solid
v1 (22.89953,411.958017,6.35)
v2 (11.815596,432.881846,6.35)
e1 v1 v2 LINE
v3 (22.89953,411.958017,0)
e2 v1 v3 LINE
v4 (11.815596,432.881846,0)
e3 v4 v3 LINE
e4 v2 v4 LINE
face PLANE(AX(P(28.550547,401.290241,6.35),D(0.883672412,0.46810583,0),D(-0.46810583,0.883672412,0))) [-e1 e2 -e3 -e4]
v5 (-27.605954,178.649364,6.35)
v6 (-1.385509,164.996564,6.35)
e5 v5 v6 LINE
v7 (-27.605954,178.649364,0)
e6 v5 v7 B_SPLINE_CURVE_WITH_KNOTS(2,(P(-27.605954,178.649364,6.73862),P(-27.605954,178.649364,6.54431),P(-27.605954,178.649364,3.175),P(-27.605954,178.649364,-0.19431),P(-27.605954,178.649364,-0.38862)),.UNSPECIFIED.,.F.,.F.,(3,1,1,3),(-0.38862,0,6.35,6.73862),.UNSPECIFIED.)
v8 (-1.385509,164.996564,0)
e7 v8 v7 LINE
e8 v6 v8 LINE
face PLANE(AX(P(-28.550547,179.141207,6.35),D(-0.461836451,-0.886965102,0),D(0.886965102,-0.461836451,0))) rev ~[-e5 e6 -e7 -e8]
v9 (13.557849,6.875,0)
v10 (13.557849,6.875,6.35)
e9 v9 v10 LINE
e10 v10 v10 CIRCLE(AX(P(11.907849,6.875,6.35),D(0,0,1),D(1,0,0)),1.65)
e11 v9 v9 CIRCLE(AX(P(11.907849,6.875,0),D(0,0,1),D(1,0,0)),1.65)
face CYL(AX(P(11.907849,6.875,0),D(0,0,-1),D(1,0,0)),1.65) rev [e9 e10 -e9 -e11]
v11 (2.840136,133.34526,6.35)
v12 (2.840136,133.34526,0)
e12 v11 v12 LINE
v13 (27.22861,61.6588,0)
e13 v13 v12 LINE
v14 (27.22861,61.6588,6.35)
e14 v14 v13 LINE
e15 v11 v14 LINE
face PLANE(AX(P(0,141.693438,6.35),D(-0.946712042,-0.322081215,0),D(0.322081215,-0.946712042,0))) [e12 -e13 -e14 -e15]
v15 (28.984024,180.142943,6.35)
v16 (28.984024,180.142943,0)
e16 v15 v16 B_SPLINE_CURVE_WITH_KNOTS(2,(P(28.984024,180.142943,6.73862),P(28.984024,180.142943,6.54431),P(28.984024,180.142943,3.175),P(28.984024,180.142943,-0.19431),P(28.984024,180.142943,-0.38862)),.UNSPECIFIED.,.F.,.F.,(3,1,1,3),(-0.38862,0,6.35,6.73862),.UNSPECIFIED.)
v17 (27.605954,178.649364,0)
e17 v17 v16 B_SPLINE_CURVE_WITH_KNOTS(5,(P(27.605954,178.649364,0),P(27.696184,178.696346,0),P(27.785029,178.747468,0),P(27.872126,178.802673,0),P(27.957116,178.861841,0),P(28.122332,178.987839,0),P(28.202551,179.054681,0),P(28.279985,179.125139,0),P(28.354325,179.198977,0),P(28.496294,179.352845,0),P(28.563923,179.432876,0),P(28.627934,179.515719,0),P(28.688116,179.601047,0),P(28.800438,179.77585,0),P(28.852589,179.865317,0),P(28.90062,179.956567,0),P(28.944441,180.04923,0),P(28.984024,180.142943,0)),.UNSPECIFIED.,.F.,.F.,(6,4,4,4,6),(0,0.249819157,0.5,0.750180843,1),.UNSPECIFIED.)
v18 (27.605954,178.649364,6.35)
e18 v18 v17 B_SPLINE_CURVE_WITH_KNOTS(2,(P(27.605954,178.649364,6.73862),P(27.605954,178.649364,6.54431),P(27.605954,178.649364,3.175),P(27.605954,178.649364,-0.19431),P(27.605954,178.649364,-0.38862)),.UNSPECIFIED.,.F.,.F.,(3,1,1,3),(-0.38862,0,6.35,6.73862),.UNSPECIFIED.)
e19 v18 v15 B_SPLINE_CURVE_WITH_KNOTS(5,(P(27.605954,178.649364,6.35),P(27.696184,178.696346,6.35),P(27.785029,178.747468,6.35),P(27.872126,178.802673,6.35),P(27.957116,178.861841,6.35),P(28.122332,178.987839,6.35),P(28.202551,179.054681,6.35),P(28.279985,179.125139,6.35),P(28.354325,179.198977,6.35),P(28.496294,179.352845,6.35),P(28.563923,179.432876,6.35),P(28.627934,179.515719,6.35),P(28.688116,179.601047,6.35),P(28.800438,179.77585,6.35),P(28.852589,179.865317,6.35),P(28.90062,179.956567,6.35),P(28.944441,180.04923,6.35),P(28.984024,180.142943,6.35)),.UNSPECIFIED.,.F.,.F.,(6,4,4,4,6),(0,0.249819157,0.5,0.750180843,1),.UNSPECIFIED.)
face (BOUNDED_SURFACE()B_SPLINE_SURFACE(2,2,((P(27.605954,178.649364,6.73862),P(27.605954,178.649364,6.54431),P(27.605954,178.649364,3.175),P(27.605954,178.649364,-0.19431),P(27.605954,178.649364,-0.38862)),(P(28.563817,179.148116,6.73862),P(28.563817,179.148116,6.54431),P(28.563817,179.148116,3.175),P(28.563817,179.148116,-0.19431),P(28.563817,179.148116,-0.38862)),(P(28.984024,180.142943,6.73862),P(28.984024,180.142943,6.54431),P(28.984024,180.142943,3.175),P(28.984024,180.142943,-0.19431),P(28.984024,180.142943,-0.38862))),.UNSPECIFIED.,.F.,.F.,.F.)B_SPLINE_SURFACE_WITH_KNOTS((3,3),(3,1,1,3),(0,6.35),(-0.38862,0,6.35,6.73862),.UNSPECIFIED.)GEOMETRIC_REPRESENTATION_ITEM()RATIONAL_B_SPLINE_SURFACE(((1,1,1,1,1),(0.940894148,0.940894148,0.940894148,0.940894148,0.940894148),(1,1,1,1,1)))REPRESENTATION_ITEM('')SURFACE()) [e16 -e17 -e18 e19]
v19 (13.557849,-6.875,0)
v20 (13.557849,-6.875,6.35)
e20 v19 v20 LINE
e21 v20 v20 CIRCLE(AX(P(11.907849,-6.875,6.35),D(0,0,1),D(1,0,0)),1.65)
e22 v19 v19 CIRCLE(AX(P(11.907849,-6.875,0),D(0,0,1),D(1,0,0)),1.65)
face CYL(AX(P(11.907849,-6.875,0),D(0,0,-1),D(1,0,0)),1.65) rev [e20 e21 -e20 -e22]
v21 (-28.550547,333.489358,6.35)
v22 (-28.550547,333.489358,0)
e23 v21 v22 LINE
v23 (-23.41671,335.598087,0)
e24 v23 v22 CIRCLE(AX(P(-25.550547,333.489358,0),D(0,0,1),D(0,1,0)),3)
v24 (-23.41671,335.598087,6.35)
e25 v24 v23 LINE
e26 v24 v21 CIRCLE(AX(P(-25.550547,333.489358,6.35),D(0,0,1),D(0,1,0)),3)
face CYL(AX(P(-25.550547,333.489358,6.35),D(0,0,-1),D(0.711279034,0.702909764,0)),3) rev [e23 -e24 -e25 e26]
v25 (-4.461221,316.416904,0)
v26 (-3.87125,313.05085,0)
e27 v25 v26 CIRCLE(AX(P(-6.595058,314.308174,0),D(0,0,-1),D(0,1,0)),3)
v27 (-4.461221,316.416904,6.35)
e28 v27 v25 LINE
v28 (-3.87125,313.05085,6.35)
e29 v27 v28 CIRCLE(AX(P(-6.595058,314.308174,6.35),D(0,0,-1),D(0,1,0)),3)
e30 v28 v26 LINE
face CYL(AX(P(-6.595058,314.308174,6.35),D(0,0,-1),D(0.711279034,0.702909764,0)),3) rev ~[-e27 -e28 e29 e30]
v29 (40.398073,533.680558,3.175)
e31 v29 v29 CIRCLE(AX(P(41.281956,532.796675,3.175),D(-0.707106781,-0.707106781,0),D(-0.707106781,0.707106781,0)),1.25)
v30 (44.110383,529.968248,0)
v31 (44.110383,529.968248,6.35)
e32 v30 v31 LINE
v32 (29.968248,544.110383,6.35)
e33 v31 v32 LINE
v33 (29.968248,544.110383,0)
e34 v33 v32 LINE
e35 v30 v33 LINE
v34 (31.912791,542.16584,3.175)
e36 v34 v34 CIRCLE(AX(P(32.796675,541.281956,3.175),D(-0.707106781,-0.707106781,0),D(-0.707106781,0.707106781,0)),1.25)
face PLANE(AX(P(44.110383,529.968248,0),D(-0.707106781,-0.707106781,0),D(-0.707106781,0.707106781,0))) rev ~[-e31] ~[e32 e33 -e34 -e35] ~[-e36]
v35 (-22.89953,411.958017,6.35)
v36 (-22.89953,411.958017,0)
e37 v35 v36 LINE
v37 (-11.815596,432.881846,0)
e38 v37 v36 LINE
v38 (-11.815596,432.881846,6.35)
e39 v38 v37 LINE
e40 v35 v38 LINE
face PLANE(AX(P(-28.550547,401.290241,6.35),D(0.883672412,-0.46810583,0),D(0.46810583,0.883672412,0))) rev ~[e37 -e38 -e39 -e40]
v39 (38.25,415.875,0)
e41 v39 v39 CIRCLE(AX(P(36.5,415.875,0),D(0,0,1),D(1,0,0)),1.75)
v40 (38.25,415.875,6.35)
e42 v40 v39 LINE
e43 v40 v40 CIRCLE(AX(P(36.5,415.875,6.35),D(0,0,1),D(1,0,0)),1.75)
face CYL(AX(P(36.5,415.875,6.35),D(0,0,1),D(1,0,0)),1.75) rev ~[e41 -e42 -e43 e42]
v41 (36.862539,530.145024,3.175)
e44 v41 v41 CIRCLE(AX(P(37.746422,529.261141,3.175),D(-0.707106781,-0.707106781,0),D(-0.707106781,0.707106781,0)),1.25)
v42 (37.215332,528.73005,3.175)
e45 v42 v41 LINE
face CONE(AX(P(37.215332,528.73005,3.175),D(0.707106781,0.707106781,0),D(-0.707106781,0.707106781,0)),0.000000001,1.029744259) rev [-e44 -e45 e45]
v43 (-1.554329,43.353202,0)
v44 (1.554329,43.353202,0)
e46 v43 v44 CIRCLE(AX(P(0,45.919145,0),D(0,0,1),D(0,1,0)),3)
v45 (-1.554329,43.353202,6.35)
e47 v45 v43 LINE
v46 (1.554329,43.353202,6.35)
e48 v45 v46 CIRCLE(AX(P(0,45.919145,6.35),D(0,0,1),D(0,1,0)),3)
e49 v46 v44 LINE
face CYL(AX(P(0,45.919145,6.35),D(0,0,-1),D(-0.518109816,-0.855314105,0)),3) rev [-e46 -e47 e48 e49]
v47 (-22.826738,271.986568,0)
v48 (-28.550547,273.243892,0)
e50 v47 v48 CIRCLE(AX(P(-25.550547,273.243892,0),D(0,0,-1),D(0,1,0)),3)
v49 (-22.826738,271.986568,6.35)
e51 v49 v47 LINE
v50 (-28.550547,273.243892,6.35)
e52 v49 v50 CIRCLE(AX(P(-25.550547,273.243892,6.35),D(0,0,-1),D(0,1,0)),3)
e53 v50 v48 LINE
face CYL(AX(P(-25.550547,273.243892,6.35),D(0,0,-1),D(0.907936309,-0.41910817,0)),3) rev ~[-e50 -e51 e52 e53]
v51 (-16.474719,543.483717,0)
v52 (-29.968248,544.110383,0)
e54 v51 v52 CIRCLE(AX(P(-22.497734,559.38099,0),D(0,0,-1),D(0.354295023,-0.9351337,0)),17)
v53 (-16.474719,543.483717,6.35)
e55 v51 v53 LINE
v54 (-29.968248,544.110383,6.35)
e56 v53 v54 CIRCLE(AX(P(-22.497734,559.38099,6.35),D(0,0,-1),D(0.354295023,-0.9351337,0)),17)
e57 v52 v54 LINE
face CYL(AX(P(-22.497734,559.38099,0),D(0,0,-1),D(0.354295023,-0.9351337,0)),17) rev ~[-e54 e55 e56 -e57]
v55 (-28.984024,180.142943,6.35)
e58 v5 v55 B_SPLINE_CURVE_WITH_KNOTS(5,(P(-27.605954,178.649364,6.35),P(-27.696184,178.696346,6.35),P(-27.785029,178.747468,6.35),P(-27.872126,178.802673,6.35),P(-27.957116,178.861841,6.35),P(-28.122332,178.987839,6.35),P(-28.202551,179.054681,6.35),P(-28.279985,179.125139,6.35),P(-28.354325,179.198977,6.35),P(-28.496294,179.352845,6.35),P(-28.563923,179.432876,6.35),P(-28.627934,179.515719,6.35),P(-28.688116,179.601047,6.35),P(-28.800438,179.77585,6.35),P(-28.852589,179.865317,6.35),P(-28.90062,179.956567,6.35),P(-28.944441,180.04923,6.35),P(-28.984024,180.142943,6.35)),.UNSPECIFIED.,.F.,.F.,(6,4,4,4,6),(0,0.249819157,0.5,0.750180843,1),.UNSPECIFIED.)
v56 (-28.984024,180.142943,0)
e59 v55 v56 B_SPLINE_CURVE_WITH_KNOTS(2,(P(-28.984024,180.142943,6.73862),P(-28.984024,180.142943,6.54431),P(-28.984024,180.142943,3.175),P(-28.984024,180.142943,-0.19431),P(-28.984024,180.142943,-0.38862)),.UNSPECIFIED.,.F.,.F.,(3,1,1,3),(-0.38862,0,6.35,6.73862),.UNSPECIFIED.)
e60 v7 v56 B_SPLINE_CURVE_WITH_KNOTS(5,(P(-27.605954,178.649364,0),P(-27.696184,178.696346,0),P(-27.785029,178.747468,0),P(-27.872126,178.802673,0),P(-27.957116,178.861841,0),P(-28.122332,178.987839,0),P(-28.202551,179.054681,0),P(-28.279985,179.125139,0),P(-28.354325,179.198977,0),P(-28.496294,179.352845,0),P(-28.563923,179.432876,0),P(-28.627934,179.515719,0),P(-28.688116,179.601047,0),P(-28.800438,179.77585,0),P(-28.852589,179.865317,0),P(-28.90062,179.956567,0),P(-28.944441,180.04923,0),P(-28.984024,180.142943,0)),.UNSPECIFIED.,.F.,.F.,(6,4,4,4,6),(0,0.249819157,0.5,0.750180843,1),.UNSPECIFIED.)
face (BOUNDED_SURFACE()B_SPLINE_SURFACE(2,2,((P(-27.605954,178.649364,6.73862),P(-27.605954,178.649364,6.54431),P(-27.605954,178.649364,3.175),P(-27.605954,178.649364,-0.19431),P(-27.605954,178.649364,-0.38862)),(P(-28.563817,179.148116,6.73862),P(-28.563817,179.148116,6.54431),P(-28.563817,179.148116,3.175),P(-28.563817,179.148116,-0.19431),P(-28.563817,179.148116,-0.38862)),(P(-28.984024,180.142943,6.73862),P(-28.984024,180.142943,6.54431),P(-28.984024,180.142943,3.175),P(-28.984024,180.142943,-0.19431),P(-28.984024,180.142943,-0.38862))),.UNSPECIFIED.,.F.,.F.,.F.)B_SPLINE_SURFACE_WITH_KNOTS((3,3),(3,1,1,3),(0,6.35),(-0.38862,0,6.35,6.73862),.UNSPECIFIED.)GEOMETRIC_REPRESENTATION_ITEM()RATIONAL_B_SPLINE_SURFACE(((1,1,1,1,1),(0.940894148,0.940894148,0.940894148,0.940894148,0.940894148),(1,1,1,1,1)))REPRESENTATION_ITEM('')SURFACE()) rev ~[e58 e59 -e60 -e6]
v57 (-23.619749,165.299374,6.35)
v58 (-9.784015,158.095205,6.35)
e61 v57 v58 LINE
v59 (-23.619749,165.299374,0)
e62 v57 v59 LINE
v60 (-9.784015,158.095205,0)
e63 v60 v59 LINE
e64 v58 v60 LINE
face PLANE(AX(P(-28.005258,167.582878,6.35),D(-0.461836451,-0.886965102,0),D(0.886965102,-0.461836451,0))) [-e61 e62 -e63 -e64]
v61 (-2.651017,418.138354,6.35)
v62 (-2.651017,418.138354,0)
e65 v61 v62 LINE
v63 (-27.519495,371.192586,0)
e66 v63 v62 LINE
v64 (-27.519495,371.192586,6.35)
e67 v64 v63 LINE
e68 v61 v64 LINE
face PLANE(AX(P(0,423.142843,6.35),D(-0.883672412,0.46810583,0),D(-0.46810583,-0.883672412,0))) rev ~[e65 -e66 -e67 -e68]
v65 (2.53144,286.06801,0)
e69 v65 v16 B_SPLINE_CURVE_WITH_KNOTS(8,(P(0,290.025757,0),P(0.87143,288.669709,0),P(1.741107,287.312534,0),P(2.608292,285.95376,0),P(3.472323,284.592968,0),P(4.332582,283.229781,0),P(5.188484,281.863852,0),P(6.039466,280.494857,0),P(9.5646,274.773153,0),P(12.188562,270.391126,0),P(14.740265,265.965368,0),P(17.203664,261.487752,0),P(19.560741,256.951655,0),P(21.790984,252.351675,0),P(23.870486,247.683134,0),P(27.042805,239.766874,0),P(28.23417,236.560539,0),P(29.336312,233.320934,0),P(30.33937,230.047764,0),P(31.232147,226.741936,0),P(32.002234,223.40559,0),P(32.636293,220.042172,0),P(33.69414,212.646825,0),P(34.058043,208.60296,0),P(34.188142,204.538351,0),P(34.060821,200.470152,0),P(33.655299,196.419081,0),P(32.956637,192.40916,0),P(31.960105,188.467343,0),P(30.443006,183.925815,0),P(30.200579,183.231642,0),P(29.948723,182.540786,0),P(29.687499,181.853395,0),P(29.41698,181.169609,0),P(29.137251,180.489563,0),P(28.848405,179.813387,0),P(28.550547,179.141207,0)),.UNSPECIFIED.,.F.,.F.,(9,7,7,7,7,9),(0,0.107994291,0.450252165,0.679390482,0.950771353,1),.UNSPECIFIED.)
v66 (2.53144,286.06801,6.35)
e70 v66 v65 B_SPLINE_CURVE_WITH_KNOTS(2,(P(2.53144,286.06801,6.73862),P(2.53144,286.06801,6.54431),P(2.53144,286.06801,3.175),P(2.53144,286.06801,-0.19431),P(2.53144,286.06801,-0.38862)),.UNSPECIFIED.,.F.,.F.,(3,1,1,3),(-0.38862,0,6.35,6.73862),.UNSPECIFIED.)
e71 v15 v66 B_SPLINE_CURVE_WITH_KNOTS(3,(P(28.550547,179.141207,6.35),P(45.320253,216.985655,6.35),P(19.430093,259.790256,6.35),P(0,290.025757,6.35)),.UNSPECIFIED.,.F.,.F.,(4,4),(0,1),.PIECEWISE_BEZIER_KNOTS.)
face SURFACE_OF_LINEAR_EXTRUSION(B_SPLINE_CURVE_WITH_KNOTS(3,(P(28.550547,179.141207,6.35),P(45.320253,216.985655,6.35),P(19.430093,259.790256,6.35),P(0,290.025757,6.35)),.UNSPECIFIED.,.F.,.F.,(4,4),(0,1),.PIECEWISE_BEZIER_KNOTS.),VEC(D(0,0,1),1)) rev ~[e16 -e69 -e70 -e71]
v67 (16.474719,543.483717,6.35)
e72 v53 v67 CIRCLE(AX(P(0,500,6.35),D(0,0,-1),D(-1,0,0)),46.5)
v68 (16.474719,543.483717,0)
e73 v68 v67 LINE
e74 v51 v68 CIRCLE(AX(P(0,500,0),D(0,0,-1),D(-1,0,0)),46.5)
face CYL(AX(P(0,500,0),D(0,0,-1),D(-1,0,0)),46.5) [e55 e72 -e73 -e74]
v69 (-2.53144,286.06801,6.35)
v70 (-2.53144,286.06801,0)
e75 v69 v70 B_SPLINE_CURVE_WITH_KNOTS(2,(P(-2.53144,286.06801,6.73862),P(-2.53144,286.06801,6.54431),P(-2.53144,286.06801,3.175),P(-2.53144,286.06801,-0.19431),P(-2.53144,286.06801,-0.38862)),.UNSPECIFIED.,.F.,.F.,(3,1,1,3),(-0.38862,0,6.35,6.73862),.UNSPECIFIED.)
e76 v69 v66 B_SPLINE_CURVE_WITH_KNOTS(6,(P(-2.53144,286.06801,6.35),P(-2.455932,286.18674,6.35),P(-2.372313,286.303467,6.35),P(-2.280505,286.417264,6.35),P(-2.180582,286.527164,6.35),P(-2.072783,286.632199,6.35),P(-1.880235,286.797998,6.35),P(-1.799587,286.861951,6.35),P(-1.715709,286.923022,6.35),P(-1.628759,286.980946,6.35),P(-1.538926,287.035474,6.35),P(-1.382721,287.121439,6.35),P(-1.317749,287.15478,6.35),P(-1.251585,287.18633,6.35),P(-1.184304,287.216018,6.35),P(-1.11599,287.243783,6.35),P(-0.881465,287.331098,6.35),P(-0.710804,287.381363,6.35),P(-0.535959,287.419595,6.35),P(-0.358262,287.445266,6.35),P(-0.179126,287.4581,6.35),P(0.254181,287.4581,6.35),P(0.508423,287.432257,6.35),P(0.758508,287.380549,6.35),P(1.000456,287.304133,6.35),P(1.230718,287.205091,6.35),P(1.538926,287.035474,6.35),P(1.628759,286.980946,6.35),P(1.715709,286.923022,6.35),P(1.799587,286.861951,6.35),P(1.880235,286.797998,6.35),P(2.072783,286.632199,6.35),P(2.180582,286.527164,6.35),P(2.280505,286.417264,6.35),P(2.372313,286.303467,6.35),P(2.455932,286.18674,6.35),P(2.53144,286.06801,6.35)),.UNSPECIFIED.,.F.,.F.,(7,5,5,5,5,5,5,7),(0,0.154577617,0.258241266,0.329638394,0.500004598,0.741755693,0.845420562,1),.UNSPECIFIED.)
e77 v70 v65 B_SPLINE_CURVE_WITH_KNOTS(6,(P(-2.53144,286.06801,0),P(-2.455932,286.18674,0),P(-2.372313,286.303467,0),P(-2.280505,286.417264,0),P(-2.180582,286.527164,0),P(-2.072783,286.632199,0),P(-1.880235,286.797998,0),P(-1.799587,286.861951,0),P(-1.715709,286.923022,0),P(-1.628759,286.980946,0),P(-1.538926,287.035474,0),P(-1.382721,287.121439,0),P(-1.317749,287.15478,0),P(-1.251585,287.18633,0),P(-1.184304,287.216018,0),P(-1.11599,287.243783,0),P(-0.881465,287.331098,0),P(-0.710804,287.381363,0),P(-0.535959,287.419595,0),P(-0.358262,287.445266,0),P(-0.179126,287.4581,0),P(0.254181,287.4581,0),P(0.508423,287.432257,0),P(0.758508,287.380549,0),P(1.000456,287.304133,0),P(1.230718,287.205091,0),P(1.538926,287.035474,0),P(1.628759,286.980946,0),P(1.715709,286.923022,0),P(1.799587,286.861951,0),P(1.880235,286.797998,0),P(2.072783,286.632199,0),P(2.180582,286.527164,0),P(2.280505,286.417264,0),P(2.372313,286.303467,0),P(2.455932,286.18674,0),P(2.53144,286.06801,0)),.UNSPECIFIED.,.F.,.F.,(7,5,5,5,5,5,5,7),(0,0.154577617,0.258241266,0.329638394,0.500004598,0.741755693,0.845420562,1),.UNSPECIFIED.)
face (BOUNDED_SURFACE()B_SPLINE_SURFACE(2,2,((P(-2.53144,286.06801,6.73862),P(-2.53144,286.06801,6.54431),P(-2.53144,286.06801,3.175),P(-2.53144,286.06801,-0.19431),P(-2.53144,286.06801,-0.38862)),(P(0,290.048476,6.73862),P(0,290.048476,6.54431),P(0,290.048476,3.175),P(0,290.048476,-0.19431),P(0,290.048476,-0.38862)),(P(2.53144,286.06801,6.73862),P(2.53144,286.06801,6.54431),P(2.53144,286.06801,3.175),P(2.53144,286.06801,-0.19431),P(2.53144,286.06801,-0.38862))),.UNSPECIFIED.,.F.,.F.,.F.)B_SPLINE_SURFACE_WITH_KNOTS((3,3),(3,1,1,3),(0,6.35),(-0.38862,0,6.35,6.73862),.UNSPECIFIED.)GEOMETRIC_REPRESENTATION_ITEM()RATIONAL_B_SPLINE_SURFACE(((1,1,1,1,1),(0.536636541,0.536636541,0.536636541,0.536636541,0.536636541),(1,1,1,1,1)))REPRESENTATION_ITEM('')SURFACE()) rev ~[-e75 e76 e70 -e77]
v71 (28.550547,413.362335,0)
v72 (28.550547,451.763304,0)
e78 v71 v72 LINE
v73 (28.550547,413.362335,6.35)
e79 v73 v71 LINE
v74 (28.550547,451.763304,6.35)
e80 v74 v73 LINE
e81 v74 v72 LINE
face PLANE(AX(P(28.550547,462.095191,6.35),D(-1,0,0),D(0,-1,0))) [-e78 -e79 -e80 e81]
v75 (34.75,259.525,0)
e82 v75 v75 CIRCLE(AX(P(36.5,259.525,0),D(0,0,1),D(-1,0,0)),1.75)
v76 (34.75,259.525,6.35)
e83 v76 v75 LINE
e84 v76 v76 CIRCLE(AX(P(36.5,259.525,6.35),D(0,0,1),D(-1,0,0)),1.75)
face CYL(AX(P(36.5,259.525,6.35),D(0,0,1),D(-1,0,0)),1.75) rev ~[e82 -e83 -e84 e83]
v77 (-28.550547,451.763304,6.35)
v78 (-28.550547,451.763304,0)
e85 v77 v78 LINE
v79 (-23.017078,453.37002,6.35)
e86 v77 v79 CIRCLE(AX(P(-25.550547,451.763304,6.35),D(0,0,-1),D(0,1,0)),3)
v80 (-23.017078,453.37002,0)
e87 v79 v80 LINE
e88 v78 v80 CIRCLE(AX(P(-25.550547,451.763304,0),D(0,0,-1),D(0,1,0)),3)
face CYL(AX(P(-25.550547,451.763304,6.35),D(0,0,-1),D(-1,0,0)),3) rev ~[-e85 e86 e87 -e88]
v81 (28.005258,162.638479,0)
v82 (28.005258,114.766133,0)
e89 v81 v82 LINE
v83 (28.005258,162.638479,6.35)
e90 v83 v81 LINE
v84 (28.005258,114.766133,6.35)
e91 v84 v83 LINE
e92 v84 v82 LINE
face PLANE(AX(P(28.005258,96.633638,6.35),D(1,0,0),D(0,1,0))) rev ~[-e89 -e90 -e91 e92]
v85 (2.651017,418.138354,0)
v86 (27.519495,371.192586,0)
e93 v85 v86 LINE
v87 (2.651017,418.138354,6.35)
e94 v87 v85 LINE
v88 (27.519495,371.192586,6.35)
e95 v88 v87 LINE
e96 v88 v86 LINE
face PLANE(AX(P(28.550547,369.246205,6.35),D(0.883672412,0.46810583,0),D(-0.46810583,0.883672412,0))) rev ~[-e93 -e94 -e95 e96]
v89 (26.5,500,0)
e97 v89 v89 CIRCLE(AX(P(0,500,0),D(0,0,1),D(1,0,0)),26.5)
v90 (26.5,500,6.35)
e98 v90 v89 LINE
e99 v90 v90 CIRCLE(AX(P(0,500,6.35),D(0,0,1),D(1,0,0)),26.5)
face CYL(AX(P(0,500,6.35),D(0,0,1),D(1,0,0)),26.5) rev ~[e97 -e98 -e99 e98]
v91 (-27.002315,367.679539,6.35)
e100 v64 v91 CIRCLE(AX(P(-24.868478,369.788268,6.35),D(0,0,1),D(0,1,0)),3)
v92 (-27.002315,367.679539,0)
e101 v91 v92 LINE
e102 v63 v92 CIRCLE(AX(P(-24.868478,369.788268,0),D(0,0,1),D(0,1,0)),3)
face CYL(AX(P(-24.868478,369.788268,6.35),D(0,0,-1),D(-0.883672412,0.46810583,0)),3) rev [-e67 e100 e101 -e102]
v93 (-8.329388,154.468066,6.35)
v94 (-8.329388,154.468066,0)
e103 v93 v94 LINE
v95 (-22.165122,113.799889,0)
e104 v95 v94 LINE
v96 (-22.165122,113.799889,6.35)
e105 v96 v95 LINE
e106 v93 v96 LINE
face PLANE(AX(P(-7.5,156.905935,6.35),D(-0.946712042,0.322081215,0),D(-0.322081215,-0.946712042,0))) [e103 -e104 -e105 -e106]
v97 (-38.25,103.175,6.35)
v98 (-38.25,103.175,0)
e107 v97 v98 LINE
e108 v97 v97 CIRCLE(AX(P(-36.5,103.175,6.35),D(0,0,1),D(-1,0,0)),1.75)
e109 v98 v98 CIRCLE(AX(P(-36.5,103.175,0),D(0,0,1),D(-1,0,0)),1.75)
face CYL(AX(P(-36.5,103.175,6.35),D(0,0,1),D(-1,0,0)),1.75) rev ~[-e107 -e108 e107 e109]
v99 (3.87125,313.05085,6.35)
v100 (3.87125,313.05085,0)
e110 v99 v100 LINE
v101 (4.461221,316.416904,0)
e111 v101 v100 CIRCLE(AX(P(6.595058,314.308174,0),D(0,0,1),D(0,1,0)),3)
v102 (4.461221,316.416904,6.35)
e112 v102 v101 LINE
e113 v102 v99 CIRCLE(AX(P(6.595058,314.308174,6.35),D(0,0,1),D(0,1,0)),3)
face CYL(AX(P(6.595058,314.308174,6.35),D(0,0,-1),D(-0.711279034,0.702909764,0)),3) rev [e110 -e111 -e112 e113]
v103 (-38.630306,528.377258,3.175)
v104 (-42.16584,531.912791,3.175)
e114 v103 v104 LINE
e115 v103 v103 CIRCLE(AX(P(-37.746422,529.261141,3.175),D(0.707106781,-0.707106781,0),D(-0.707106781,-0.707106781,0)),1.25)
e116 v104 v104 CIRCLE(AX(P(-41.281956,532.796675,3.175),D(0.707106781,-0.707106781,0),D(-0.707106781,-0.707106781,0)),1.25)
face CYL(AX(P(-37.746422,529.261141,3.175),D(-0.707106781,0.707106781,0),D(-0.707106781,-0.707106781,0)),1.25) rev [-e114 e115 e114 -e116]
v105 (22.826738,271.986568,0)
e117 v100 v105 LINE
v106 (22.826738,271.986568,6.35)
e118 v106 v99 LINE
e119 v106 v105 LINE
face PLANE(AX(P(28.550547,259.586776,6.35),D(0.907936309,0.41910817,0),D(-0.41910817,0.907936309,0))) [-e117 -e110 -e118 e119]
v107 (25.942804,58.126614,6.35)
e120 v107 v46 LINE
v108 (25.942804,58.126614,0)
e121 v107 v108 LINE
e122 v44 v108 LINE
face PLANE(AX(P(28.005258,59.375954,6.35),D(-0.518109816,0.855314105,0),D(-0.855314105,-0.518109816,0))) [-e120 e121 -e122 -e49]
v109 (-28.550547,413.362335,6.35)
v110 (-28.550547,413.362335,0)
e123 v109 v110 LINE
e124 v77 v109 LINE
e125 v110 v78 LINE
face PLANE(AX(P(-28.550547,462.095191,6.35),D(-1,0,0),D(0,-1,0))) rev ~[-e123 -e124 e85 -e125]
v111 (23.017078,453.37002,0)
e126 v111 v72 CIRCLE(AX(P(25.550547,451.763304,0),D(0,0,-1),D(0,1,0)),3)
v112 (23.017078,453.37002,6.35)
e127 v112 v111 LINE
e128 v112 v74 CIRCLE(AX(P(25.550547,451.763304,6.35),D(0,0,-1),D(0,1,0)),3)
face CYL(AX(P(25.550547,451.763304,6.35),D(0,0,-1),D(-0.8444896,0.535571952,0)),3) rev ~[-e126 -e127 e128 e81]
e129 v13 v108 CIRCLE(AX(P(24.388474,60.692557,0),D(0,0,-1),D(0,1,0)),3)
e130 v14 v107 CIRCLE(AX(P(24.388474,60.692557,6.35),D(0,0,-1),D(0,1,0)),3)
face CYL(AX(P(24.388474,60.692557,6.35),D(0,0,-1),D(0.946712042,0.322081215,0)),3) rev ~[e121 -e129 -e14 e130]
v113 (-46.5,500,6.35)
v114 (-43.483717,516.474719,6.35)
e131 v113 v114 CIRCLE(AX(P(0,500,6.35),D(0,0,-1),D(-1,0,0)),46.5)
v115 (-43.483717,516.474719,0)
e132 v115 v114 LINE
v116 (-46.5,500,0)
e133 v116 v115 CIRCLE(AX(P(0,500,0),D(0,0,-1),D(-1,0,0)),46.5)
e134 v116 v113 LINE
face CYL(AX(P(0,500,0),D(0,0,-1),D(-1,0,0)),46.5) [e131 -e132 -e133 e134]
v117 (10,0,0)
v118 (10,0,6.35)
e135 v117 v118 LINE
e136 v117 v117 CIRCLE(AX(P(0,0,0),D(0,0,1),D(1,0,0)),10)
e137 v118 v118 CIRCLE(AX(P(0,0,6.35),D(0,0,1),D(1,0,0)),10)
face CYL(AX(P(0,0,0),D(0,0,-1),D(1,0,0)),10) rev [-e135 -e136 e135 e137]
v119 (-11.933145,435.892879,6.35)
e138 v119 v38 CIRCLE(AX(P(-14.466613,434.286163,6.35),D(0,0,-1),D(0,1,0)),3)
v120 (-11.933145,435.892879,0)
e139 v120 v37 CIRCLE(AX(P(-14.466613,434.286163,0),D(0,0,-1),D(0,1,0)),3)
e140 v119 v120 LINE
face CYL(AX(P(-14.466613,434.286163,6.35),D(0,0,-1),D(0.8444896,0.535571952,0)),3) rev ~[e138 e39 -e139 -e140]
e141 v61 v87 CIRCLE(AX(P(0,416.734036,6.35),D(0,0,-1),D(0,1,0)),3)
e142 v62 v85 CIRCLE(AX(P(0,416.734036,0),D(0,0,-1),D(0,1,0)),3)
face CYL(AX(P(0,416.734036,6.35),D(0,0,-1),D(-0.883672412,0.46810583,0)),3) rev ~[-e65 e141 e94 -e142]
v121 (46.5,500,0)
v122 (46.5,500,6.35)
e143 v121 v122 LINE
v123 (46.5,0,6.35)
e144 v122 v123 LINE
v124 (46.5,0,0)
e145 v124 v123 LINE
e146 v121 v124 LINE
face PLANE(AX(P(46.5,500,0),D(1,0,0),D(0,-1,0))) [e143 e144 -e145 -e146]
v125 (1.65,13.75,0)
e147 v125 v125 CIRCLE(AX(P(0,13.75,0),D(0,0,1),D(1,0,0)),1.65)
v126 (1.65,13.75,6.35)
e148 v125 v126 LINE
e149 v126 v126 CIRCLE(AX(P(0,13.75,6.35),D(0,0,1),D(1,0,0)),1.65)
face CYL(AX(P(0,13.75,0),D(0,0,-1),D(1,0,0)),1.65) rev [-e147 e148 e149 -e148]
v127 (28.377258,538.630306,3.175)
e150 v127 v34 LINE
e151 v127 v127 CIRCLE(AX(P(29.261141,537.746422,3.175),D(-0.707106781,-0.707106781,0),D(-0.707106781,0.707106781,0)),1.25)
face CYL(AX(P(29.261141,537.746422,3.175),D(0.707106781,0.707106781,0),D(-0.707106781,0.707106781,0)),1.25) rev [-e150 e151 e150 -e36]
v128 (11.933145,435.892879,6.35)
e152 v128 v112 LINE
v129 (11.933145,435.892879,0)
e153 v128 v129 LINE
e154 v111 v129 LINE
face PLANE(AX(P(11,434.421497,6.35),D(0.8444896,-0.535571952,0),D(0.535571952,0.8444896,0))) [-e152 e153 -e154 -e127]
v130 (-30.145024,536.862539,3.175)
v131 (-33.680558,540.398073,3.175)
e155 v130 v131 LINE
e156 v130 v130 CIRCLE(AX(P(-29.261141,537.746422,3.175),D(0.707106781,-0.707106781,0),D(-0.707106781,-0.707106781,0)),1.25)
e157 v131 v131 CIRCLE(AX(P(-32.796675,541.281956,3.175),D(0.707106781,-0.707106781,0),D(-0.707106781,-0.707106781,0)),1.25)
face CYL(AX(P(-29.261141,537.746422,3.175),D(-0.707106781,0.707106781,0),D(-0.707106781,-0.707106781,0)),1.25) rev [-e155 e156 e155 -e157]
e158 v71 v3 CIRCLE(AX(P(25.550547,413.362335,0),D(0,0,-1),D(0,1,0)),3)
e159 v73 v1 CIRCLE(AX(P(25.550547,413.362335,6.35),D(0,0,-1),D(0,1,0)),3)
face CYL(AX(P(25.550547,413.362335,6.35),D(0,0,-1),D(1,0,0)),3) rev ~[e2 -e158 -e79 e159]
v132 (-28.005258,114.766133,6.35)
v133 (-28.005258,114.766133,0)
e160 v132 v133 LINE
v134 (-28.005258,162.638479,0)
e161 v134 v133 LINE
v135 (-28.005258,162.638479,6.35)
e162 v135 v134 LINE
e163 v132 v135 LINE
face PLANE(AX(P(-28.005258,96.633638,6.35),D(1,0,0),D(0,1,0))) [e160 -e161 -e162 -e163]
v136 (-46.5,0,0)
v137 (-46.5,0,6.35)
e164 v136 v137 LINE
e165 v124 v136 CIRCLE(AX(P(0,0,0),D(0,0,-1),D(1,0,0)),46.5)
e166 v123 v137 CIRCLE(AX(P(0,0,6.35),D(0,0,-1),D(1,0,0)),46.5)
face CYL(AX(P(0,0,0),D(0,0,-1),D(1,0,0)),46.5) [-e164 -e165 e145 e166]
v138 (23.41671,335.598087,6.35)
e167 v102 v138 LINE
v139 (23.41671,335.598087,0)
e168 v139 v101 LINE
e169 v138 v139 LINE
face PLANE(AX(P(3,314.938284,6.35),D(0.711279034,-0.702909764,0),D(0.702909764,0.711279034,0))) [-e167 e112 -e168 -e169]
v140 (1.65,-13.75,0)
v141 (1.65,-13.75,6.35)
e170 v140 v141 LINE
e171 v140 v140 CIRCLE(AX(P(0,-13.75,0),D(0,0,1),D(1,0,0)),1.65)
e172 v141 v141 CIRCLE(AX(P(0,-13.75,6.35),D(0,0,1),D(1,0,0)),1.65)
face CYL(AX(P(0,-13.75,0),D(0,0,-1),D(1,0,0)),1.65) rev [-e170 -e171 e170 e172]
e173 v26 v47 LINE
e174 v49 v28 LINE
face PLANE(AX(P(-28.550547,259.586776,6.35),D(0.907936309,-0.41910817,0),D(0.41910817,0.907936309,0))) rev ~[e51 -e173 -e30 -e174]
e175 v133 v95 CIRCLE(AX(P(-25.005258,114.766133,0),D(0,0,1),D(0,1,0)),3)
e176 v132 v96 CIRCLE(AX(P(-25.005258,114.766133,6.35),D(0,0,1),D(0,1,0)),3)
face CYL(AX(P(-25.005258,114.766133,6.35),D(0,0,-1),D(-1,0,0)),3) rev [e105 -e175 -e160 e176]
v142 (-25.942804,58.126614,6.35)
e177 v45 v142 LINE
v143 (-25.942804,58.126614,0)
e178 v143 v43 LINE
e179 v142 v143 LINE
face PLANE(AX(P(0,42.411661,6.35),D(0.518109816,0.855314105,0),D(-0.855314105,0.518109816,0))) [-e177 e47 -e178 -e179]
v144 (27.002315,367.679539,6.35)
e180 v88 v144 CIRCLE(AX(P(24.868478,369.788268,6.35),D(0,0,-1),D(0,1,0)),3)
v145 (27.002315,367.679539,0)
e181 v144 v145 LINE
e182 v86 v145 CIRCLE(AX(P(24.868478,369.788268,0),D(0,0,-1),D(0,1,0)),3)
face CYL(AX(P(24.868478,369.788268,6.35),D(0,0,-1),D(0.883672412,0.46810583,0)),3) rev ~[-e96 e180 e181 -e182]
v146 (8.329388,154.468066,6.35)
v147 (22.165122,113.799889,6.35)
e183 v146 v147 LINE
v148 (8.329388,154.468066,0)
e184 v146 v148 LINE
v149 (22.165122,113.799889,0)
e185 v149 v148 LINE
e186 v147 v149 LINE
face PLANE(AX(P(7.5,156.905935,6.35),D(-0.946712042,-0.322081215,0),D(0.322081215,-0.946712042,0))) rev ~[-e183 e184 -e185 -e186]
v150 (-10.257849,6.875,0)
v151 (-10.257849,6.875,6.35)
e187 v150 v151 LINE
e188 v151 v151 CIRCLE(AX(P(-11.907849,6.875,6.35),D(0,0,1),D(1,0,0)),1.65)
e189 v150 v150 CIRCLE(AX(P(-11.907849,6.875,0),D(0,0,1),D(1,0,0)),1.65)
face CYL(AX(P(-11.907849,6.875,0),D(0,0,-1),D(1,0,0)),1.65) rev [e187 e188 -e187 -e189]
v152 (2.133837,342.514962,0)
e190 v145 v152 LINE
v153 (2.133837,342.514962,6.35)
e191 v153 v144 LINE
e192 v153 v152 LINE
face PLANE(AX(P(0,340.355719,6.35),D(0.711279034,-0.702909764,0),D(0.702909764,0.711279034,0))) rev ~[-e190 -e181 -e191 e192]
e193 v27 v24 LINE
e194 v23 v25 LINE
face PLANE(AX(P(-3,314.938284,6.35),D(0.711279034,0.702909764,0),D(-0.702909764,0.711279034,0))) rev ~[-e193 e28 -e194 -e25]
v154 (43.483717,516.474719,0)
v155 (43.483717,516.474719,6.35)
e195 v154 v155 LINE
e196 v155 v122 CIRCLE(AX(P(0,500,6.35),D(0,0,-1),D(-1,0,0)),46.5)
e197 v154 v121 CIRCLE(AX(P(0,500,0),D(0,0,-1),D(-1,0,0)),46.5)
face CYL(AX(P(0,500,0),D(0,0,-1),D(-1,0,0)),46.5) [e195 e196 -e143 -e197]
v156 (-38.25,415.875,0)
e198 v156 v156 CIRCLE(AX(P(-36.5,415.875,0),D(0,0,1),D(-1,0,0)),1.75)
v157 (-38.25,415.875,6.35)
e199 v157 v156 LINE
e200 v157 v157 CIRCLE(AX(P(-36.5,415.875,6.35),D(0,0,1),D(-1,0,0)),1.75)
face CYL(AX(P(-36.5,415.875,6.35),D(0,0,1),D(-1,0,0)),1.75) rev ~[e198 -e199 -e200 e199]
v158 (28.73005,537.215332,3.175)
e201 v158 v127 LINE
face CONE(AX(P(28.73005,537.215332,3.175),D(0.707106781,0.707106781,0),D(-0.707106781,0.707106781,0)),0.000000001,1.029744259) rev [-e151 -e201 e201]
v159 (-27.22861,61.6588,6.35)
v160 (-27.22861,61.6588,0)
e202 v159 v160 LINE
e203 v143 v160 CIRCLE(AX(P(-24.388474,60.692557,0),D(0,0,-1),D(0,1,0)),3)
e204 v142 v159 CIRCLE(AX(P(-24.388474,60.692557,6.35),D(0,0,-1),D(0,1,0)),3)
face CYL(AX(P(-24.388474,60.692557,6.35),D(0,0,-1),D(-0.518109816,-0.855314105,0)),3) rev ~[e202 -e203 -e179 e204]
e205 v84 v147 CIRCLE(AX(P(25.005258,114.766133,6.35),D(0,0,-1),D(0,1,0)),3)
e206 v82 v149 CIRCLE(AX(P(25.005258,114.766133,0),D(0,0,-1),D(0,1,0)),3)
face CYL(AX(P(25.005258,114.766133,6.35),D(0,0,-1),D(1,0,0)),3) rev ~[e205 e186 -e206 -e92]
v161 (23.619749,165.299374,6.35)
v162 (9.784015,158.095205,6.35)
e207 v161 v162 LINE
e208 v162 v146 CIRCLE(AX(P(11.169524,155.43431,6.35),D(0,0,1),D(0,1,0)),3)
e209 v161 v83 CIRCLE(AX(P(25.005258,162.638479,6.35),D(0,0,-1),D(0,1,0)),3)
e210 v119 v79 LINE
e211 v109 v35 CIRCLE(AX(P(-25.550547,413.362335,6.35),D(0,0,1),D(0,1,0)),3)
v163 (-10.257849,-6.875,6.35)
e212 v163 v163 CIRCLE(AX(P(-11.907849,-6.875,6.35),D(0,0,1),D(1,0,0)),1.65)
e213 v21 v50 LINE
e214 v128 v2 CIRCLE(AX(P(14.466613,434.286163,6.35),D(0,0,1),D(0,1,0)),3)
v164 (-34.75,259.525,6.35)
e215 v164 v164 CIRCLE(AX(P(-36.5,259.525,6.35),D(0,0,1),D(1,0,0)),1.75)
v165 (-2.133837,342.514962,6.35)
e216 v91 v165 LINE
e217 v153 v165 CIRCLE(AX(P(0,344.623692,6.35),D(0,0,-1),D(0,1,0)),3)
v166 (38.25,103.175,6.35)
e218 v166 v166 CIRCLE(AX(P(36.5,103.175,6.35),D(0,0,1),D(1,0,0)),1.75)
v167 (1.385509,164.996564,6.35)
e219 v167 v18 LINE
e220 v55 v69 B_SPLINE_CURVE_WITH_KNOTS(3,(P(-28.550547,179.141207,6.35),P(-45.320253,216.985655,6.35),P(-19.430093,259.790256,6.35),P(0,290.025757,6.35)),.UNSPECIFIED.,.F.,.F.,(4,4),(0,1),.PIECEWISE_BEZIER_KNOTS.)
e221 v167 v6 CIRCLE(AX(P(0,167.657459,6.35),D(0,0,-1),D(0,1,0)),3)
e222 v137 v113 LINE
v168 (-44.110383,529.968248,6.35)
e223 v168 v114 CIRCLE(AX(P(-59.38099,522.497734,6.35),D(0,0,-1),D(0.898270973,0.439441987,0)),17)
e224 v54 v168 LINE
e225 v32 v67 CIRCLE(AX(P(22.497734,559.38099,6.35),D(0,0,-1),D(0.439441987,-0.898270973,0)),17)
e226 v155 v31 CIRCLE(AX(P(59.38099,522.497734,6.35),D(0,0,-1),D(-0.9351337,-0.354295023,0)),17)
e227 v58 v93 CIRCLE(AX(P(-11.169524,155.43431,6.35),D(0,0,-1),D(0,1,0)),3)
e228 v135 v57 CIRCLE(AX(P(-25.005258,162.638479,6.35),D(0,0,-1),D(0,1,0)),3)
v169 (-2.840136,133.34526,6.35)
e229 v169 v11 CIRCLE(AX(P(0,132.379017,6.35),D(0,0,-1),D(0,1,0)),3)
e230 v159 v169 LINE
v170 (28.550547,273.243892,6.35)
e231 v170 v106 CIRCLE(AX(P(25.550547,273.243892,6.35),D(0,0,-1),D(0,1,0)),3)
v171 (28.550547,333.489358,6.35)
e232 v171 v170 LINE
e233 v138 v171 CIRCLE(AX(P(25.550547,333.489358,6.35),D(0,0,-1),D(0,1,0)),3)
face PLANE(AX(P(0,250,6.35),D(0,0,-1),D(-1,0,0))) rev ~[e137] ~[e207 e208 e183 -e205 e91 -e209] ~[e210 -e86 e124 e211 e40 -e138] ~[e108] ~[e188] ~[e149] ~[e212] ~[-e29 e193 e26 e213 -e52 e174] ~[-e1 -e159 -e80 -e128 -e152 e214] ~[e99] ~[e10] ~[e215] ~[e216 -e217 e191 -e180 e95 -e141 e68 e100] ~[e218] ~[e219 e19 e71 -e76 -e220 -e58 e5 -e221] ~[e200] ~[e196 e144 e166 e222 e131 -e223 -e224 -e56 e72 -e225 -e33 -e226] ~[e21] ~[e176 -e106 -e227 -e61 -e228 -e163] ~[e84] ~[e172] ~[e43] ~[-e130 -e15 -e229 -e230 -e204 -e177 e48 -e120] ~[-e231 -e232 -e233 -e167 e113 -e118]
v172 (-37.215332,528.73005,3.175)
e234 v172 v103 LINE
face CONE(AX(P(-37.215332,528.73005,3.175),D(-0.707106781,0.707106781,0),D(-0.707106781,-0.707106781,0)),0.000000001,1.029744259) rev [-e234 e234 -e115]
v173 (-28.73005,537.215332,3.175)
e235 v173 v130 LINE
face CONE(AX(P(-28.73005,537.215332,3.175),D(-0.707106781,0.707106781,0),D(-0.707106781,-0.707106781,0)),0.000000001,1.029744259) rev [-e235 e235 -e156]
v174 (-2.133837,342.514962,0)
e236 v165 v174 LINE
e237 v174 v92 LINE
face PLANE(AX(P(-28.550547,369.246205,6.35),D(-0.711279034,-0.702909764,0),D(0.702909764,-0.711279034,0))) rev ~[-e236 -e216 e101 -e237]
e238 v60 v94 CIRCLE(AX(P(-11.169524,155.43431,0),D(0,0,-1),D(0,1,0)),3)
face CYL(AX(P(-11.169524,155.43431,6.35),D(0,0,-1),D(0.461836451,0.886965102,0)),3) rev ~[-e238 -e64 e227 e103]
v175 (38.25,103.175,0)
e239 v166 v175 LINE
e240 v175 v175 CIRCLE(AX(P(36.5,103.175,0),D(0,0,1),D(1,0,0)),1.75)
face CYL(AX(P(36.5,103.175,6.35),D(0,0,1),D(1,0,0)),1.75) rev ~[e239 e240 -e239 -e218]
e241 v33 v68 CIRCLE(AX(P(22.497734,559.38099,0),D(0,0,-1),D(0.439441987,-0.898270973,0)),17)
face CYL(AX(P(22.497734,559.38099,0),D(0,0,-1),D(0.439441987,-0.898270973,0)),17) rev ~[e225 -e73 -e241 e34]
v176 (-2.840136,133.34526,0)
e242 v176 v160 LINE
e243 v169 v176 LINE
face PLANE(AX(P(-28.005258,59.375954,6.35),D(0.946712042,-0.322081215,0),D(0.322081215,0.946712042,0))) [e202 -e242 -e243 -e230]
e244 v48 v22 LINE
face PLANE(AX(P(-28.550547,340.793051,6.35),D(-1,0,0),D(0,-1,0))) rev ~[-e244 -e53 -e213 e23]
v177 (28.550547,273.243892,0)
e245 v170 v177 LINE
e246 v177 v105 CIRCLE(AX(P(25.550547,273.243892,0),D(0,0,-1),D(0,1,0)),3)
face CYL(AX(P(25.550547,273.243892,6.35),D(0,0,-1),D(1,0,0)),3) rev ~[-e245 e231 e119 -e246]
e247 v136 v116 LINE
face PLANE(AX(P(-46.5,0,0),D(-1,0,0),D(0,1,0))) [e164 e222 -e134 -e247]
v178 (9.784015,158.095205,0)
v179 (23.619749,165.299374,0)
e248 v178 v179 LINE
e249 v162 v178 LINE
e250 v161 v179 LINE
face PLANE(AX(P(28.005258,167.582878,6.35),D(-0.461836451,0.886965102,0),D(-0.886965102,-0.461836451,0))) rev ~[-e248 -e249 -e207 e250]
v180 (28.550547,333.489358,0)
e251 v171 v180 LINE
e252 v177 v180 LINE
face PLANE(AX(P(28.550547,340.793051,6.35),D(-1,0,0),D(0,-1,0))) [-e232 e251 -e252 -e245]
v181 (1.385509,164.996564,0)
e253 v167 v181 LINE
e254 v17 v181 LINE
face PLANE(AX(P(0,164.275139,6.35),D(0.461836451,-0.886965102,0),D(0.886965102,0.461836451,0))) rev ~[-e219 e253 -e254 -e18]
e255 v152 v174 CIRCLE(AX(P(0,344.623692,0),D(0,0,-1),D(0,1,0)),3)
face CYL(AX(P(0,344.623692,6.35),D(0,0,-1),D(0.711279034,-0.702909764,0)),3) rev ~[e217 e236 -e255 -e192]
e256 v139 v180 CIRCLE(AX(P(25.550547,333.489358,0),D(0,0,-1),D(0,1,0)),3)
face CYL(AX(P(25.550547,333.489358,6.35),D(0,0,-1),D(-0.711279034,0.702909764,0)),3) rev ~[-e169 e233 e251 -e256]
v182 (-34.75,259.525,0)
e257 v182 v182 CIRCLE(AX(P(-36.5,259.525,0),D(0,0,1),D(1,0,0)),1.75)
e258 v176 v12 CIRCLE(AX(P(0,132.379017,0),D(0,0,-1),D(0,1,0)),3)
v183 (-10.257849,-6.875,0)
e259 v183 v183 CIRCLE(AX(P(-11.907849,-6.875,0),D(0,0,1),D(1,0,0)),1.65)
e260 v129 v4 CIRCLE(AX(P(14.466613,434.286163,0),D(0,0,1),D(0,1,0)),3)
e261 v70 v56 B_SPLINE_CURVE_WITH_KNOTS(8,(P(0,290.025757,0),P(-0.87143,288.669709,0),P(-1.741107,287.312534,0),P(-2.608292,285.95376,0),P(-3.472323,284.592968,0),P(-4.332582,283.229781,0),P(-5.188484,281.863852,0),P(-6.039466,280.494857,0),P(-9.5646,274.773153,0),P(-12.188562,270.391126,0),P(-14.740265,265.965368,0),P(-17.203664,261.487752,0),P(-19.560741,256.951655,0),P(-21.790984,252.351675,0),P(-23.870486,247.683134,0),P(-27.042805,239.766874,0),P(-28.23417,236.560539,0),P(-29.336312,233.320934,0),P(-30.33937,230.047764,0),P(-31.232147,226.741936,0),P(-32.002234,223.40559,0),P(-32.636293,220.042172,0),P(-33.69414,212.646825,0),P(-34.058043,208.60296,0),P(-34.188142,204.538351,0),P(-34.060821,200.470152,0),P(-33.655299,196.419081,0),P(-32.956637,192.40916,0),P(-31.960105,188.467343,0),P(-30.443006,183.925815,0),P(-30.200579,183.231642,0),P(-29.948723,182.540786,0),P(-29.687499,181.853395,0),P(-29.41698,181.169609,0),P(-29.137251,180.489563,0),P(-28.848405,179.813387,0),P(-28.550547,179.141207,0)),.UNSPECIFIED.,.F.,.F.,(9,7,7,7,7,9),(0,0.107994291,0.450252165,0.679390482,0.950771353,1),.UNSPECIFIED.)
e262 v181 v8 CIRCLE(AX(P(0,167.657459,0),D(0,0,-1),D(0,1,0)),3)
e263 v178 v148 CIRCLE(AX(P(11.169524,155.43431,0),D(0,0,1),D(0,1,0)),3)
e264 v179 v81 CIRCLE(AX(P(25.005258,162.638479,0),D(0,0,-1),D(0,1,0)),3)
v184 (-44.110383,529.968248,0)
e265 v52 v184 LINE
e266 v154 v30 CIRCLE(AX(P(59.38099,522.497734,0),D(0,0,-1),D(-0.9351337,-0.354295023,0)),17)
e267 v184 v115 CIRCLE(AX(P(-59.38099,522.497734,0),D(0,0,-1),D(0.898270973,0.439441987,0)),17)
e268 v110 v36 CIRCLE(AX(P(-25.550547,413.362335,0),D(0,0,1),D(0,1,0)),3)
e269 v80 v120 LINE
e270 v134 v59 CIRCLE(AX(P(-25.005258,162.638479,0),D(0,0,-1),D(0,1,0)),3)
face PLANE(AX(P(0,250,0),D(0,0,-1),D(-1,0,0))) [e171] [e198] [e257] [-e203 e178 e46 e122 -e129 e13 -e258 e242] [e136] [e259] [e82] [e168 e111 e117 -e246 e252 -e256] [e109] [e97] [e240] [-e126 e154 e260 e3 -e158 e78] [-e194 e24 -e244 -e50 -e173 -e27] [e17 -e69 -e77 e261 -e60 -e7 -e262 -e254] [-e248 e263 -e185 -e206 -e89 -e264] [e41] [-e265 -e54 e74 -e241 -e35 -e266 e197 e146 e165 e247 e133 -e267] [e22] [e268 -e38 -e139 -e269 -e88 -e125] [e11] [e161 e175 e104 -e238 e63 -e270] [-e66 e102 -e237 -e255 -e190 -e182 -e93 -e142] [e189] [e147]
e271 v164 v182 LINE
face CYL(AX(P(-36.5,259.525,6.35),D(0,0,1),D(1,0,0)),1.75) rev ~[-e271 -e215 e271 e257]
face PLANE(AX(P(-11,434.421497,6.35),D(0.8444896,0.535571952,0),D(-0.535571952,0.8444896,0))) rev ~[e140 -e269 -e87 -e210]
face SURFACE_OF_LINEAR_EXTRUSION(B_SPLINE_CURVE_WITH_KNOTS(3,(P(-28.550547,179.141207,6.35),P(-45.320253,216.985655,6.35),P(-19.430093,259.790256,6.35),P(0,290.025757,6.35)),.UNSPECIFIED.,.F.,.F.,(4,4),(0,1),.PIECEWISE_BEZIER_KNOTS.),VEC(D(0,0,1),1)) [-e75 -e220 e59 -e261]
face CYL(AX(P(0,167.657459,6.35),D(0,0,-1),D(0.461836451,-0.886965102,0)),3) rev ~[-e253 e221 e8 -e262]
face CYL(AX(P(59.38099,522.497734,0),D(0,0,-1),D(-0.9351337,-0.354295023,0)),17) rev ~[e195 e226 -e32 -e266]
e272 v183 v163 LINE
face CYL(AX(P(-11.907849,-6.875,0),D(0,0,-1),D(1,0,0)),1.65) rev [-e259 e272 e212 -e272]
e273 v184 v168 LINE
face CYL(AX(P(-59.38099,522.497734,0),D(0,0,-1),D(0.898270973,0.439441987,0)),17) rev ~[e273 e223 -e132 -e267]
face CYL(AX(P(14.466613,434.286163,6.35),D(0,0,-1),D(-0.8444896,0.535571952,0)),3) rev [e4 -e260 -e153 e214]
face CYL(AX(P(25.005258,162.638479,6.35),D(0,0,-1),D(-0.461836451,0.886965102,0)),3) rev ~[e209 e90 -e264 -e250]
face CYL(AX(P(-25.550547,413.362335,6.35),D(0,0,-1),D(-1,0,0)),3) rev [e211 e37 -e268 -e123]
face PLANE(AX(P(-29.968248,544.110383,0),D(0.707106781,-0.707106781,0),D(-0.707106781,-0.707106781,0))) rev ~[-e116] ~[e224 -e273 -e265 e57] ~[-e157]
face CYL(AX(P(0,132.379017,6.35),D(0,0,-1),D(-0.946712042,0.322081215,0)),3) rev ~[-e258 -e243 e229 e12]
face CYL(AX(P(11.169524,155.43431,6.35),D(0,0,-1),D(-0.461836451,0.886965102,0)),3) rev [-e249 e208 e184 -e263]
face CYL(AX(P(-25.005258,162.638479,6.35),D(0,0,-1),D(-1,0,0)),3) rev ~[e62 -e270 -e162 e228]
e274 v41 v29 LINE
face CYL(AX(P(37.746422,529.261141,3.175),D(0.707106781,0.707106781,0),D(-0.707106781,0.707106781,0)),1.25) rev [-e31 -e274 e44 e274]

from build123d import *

# Parameters (mm, degrees)
SKETCH2_R                            = 10
SKETCH2_R_2                          = 1.65
BOSS_EXTRUDE1_DEPTH                  = 6.35
CUT_EXTRUDE1_DEPTH                   = 10
FILLET3_R                            = 3
SKETCH5_R                            = 1.75
CUT_EXTRUDE2_DEPTH                   = 549.511460792
SKETCH6_R                            = 26.5
CUT_EXTRUDE3_DEPTH                   = 10
BOSS_EXTRUDE2_START                  = -6.35
BOSS_EXTRUDE2_DEPTH                  = 6.35
TAP_DRILL_FOR_M3X0_5_TAP1_AT_2_COUNT = 2
TAP_DRILL_FOR_M3X0_5_TAP1_AT_2_PITCH = 12
CIRPATTERN2_COUNT                    = 2
CIRPATTERN2_ANGLE                    = 90


with BuildPart() as part:
    # Sketch2 → Boss-Extrude1 (new body)
    with BuildSketch(Plane.XY):
        with BuildLine():
            Line((-46.5, 0), (-46.5, 500))
            ThreePointArc((-46.5, 500), (0, 546.5), (46.5, 500))
            Line((46.5, 500), (46.5, 0))
            ThreePointArc((46.5, 0), (0, -46.5), (-46.5, 0))
        make_face()
        Circle(SKETCH2_R, mode=Mode.SUBTRACT)
        with Locations((0, 13.75)):
            Circle(SKETCH2_R_2, mode=Mode.SUBTRACT)
        with Locations((11.907849302, 6.875)):
            Circle(SKETCH2_R_2, mode=Mode.SUBTRACT)
        with Locations((11.907849302, -6.875)):
            Circle(SKETCH2_R_2, mode=Mode.SUBTRACT)
        with Locations((0, -13.75)):
            Circle(SKETCH2_R_2, mode=Mode.SUBTRACT)
        with Locations((-11.907849302, -6.875)):
            Circle(SKETCH2_R_2, mode=Mode.SUBTRACT)
        with Locations((-11.907849302, 6.875)):
            Circle(SKETCH2_R_2, mode=Mode.SUBTRACT)
    extrude(amount=BOSS_EXTRUDE1_DEPTH)

    # Sketch4 → Cut-Extrude1 (cut)
    with BuildSketch(Plane.XY.offset(6.35)):
        Polygon((28.005258112, 59.37595418), (0, 42.411661153), (-28.005258112, 59.37595418), (0, 141.693437584), align=None)
        Polygon((-7.5, 156.905935087), (-28.005258112, 96.633637735), (-28.005258112, 167.582877854), align=None)
        Polygon((28.005258112, 167.582877854), (7.5, 156.905935087), (28.005258112, 96.633637735), align=None)
        with BuildLine():
            Line((0, 164.275138905), (28.550546746, 179.141206521))
            add(Edge.make_bspline(
                [(28.550546746, 179.141206521), (45.32025339, 216.985654627), (19.430092874, 259.790255689), (0, 290.025756679)],
                knots=[0, 0, 0, 0, 1, 1, 1, 1], degree=3))
            add(Edge.make_bspline(
                [(-28.550546746, 179.141206521), (-45.32025339, 216.985654627), (-19.430092874, 259.790255689), (0, 290.025756679)],
                knots=[0, 0, 0, 0, 1, 1, 1, 1], degree=3))
            Line((-28.550546746, 179.141206521), (0, 164.275138905))
        make_face()
        Polygon((28.550546746, 259.58677623), (3, 314.938284003), (28.550546746, 340.793051053), align=None)
        Polygon((-3, 314.938284003), (-28.550546746, 340.793051053), (-28.550546746, 259.58677623), align=None)
        Polygon((0, 423.142843498), (-28.550546746, 369.246205395), (0, 340.355718526), (28.550546746, 369.246205395), align=None)
        Polygon((-28.550546746, 462.095190817), (-28.550546746, 401.290241252), (-11, 434.421497018), align=None)
        Polygon((28.550546746, 401.290241252), (11, 434.421497018), (28.550546746, 462.095190817), align=None)
    extrude(amount=-CUT_EXTRUDE1_DEPTH, mode=Mode.SUBTRACT)

    # Fillet3
    fillet3_edges = [part.edges().sort_by_distance(p)[0] for p in [
        (-11, 434.421497018, 3.175),
        (-28.550546746, 401.290241252, 3.175),
        (28.550546746, 401.290241252, 3.175),
        (11, 434.421497018, 3.175),
        (28.550546746, 462.095190817, 3.175),
        (-28.550546746, 462.095190817, 3.175),
        (0, 423.142843498, 3.175),
        (-28.550546746, 369.246205395, 3.175),
        (28.550546746, 369.246205395, 3.175),
        (0, 340.355718526, 3.175),
        (28.550546746, 340.793051053, 3.175),
        (-28.550546746, 340.793051053, 3.175),
        (-3, 314.938284003, 3.175),
        (3, 314.938284003, 3.175),
        (28.550546746, 259.58677623, 3.175),
        (-28.550546746, 259.58677623, 3.175),
        (28.550546746, 179.141206521, 3.175),
        (0, 290.025756679, 3.175),
        (-28.550546746, 179.141206521, 3.175),
        (0, 164.275138905, 3.175),
        (-28.005258112, 96.633637735, 3.175),
        (28.005258112, 96.633637735, 3.175),
        (7.5, 156.905935087, 3.175),
        (-28.005258112, 167.582877854, 3.175),
        (28.005258112, 167.582877854, 3.175),
        (0, 141.693437584, 3.175),
        (28.005258112, 59.37595418, 3.175),
        (-28.005258112, 59.37595418, 3.175),
        (0, 42.411661153, 3.175),
        (-7.5, 156.905935087, 3.175),
    ]]
    fillet(fillet3_edges, radius=FILLET3_R)

    # Sketch5 → Cut-Extrude2 (cut, through all)
    with BuildSketch(Plane.XY.offset(6.35)):
        with Locations((36.5, 103.175)):
            Circle(SKETCH5_R)
        with Locations(Location((-36.5, 103.175, 0), (0, 0, 180))):
            Circle(SKETCH5_R)
        with Locations(Location((36.5, 259.525, 0), (0, 0, 180))):
            Circle(SKETCH5_R)
        with Locations((-36.5, 259.525)):
            Circle(SKETCH5_R)
        with Locations((36.5, 415.875)):
            Circle(SKETCH5_R)
        with Locations(Location((-36.5, 415.875, 0), (0, 0, 180))):
            Circle(SKETCH5_R)
    extrude(amount=-CUT_EXTRUDE2_DEPTH, mode=Mode.SUBTRACT)

    # Sketch6 → Cut-Extrude3 (cut)
    with BuildSketch(Plane.XY.offset(6.35)):
        with Locations((0, 500)):
            Circle(SKETCH6_R)
    extrude(amount=-CUT_EXTRUDE3_DEPTH, mode=Mode.SUBTRACT)

    # Sketch7 → Boss-Extrude2 (add)
    with BuildSketch(Plane.XY.offset(6.35).offset(BOSS_EXTRUDE2_START)):
        with BuildLine():
            Line((44.110383395, 529.968247771), (29.968247771, 544.110383395))
            ThreePointArc((29.968247771, 544.110383395), (23.286397782, 542.399293624), (16.474718596, 543.483717035))
            ThreePointArc((16.474718596, 543.483717035), (32.880465325, 532.880465325), (43.483717035, 516.474718596))
            ThreePointArc((43.483717035, 516.474718596), (42.399293624, 523.286397782), (44.110383395, 529.968247771))
        make_face()
    boss_extrude2 = extrude(amount=BOSS_EXTRUDE2_DEPTH)

    # Sketch9 → Tap Drill for M3x0.5 Tap1 (revolve, cut)
    with BuildSketch(Plane(origin=(32.796674896, 541.28195627, 3.175), x_dir=(-0.7071067811865481, 0.7071067811865469, 0), z_dir=(0, 0, 1))):
        Polygon((0, 0), (0, 5.751075774), (1.25, 5), (1.25, 0), align=None)
    tap_drill_for_m3x0_5_tap1 = revolve(axis=Axis((37.286802956, 545.772084331, 3.175), (-0.7071067811865468, -0.7071067811865482, 0)), mode=Mode.SUBTRACT)

    # Tap Drill for M3x0.5 Tap1 at 2: Tap Drill for M3x0.5 Tap1 ×2
    with Locations(*[Vector(0.7071067811865482, -0.7071067811865468, 0) * (i * TAP_DRILL_FOR_M3X0_5_TAP1_AT_2_PITCH) for i in range(1, TAP_DRILL_FOR_M3X0_5_TAP1_AT_2_COUNT)]):
        add(tap_drill_for_m3x0_5_tap1, mode=Mode.SUBTRACT)

    # CirPattern2: Boss-Extrude2, Tap Drill for M3x0.5 Tap1 ×2 about axis
    cirpattern2_axis = Axis((0, 500, 0), (0, 0, 1))
    add([boss_extrude2.rotate(cirpattern2_axis, i * CIRPATTERN2_ANGLE / (CIRPATTERN2_COUNT - 1)) for i in range(1, CIRPATTERN2_COUNT)])
    add([tap_drill_for_m3x0_5_tap1.rotate(cirpattern2_axis, i * CIRPATTERN2_ANGLE / (CIRPATTERN2_COUNT - 1)) for i in range(1, CIRPATTERN2_COUNT)], mode=Mode.SUBTRACT)

    # CirPattern2 copy 1 sketch → CirPattern2 copy 1 (revolve, cut)
    with BuildSketch(Plane(origin=(-32.796674896, 541.28195627, 3.175), x_dir=(-0.7071067811865445, -0.7071067811865506, 0), z_dir=(0, 0, 1))):
        Polygon((0, 0), (0, 5.751075774), (1.25, 5), (1.25, 0), align=None)
    revolve(axis=Axis((-37.286802956, 545.772084331, 3.175), (0.7071067811865507, -0.7071067811865444, 0)), mode=Mode.SUBTRACT)


solid = part.part
